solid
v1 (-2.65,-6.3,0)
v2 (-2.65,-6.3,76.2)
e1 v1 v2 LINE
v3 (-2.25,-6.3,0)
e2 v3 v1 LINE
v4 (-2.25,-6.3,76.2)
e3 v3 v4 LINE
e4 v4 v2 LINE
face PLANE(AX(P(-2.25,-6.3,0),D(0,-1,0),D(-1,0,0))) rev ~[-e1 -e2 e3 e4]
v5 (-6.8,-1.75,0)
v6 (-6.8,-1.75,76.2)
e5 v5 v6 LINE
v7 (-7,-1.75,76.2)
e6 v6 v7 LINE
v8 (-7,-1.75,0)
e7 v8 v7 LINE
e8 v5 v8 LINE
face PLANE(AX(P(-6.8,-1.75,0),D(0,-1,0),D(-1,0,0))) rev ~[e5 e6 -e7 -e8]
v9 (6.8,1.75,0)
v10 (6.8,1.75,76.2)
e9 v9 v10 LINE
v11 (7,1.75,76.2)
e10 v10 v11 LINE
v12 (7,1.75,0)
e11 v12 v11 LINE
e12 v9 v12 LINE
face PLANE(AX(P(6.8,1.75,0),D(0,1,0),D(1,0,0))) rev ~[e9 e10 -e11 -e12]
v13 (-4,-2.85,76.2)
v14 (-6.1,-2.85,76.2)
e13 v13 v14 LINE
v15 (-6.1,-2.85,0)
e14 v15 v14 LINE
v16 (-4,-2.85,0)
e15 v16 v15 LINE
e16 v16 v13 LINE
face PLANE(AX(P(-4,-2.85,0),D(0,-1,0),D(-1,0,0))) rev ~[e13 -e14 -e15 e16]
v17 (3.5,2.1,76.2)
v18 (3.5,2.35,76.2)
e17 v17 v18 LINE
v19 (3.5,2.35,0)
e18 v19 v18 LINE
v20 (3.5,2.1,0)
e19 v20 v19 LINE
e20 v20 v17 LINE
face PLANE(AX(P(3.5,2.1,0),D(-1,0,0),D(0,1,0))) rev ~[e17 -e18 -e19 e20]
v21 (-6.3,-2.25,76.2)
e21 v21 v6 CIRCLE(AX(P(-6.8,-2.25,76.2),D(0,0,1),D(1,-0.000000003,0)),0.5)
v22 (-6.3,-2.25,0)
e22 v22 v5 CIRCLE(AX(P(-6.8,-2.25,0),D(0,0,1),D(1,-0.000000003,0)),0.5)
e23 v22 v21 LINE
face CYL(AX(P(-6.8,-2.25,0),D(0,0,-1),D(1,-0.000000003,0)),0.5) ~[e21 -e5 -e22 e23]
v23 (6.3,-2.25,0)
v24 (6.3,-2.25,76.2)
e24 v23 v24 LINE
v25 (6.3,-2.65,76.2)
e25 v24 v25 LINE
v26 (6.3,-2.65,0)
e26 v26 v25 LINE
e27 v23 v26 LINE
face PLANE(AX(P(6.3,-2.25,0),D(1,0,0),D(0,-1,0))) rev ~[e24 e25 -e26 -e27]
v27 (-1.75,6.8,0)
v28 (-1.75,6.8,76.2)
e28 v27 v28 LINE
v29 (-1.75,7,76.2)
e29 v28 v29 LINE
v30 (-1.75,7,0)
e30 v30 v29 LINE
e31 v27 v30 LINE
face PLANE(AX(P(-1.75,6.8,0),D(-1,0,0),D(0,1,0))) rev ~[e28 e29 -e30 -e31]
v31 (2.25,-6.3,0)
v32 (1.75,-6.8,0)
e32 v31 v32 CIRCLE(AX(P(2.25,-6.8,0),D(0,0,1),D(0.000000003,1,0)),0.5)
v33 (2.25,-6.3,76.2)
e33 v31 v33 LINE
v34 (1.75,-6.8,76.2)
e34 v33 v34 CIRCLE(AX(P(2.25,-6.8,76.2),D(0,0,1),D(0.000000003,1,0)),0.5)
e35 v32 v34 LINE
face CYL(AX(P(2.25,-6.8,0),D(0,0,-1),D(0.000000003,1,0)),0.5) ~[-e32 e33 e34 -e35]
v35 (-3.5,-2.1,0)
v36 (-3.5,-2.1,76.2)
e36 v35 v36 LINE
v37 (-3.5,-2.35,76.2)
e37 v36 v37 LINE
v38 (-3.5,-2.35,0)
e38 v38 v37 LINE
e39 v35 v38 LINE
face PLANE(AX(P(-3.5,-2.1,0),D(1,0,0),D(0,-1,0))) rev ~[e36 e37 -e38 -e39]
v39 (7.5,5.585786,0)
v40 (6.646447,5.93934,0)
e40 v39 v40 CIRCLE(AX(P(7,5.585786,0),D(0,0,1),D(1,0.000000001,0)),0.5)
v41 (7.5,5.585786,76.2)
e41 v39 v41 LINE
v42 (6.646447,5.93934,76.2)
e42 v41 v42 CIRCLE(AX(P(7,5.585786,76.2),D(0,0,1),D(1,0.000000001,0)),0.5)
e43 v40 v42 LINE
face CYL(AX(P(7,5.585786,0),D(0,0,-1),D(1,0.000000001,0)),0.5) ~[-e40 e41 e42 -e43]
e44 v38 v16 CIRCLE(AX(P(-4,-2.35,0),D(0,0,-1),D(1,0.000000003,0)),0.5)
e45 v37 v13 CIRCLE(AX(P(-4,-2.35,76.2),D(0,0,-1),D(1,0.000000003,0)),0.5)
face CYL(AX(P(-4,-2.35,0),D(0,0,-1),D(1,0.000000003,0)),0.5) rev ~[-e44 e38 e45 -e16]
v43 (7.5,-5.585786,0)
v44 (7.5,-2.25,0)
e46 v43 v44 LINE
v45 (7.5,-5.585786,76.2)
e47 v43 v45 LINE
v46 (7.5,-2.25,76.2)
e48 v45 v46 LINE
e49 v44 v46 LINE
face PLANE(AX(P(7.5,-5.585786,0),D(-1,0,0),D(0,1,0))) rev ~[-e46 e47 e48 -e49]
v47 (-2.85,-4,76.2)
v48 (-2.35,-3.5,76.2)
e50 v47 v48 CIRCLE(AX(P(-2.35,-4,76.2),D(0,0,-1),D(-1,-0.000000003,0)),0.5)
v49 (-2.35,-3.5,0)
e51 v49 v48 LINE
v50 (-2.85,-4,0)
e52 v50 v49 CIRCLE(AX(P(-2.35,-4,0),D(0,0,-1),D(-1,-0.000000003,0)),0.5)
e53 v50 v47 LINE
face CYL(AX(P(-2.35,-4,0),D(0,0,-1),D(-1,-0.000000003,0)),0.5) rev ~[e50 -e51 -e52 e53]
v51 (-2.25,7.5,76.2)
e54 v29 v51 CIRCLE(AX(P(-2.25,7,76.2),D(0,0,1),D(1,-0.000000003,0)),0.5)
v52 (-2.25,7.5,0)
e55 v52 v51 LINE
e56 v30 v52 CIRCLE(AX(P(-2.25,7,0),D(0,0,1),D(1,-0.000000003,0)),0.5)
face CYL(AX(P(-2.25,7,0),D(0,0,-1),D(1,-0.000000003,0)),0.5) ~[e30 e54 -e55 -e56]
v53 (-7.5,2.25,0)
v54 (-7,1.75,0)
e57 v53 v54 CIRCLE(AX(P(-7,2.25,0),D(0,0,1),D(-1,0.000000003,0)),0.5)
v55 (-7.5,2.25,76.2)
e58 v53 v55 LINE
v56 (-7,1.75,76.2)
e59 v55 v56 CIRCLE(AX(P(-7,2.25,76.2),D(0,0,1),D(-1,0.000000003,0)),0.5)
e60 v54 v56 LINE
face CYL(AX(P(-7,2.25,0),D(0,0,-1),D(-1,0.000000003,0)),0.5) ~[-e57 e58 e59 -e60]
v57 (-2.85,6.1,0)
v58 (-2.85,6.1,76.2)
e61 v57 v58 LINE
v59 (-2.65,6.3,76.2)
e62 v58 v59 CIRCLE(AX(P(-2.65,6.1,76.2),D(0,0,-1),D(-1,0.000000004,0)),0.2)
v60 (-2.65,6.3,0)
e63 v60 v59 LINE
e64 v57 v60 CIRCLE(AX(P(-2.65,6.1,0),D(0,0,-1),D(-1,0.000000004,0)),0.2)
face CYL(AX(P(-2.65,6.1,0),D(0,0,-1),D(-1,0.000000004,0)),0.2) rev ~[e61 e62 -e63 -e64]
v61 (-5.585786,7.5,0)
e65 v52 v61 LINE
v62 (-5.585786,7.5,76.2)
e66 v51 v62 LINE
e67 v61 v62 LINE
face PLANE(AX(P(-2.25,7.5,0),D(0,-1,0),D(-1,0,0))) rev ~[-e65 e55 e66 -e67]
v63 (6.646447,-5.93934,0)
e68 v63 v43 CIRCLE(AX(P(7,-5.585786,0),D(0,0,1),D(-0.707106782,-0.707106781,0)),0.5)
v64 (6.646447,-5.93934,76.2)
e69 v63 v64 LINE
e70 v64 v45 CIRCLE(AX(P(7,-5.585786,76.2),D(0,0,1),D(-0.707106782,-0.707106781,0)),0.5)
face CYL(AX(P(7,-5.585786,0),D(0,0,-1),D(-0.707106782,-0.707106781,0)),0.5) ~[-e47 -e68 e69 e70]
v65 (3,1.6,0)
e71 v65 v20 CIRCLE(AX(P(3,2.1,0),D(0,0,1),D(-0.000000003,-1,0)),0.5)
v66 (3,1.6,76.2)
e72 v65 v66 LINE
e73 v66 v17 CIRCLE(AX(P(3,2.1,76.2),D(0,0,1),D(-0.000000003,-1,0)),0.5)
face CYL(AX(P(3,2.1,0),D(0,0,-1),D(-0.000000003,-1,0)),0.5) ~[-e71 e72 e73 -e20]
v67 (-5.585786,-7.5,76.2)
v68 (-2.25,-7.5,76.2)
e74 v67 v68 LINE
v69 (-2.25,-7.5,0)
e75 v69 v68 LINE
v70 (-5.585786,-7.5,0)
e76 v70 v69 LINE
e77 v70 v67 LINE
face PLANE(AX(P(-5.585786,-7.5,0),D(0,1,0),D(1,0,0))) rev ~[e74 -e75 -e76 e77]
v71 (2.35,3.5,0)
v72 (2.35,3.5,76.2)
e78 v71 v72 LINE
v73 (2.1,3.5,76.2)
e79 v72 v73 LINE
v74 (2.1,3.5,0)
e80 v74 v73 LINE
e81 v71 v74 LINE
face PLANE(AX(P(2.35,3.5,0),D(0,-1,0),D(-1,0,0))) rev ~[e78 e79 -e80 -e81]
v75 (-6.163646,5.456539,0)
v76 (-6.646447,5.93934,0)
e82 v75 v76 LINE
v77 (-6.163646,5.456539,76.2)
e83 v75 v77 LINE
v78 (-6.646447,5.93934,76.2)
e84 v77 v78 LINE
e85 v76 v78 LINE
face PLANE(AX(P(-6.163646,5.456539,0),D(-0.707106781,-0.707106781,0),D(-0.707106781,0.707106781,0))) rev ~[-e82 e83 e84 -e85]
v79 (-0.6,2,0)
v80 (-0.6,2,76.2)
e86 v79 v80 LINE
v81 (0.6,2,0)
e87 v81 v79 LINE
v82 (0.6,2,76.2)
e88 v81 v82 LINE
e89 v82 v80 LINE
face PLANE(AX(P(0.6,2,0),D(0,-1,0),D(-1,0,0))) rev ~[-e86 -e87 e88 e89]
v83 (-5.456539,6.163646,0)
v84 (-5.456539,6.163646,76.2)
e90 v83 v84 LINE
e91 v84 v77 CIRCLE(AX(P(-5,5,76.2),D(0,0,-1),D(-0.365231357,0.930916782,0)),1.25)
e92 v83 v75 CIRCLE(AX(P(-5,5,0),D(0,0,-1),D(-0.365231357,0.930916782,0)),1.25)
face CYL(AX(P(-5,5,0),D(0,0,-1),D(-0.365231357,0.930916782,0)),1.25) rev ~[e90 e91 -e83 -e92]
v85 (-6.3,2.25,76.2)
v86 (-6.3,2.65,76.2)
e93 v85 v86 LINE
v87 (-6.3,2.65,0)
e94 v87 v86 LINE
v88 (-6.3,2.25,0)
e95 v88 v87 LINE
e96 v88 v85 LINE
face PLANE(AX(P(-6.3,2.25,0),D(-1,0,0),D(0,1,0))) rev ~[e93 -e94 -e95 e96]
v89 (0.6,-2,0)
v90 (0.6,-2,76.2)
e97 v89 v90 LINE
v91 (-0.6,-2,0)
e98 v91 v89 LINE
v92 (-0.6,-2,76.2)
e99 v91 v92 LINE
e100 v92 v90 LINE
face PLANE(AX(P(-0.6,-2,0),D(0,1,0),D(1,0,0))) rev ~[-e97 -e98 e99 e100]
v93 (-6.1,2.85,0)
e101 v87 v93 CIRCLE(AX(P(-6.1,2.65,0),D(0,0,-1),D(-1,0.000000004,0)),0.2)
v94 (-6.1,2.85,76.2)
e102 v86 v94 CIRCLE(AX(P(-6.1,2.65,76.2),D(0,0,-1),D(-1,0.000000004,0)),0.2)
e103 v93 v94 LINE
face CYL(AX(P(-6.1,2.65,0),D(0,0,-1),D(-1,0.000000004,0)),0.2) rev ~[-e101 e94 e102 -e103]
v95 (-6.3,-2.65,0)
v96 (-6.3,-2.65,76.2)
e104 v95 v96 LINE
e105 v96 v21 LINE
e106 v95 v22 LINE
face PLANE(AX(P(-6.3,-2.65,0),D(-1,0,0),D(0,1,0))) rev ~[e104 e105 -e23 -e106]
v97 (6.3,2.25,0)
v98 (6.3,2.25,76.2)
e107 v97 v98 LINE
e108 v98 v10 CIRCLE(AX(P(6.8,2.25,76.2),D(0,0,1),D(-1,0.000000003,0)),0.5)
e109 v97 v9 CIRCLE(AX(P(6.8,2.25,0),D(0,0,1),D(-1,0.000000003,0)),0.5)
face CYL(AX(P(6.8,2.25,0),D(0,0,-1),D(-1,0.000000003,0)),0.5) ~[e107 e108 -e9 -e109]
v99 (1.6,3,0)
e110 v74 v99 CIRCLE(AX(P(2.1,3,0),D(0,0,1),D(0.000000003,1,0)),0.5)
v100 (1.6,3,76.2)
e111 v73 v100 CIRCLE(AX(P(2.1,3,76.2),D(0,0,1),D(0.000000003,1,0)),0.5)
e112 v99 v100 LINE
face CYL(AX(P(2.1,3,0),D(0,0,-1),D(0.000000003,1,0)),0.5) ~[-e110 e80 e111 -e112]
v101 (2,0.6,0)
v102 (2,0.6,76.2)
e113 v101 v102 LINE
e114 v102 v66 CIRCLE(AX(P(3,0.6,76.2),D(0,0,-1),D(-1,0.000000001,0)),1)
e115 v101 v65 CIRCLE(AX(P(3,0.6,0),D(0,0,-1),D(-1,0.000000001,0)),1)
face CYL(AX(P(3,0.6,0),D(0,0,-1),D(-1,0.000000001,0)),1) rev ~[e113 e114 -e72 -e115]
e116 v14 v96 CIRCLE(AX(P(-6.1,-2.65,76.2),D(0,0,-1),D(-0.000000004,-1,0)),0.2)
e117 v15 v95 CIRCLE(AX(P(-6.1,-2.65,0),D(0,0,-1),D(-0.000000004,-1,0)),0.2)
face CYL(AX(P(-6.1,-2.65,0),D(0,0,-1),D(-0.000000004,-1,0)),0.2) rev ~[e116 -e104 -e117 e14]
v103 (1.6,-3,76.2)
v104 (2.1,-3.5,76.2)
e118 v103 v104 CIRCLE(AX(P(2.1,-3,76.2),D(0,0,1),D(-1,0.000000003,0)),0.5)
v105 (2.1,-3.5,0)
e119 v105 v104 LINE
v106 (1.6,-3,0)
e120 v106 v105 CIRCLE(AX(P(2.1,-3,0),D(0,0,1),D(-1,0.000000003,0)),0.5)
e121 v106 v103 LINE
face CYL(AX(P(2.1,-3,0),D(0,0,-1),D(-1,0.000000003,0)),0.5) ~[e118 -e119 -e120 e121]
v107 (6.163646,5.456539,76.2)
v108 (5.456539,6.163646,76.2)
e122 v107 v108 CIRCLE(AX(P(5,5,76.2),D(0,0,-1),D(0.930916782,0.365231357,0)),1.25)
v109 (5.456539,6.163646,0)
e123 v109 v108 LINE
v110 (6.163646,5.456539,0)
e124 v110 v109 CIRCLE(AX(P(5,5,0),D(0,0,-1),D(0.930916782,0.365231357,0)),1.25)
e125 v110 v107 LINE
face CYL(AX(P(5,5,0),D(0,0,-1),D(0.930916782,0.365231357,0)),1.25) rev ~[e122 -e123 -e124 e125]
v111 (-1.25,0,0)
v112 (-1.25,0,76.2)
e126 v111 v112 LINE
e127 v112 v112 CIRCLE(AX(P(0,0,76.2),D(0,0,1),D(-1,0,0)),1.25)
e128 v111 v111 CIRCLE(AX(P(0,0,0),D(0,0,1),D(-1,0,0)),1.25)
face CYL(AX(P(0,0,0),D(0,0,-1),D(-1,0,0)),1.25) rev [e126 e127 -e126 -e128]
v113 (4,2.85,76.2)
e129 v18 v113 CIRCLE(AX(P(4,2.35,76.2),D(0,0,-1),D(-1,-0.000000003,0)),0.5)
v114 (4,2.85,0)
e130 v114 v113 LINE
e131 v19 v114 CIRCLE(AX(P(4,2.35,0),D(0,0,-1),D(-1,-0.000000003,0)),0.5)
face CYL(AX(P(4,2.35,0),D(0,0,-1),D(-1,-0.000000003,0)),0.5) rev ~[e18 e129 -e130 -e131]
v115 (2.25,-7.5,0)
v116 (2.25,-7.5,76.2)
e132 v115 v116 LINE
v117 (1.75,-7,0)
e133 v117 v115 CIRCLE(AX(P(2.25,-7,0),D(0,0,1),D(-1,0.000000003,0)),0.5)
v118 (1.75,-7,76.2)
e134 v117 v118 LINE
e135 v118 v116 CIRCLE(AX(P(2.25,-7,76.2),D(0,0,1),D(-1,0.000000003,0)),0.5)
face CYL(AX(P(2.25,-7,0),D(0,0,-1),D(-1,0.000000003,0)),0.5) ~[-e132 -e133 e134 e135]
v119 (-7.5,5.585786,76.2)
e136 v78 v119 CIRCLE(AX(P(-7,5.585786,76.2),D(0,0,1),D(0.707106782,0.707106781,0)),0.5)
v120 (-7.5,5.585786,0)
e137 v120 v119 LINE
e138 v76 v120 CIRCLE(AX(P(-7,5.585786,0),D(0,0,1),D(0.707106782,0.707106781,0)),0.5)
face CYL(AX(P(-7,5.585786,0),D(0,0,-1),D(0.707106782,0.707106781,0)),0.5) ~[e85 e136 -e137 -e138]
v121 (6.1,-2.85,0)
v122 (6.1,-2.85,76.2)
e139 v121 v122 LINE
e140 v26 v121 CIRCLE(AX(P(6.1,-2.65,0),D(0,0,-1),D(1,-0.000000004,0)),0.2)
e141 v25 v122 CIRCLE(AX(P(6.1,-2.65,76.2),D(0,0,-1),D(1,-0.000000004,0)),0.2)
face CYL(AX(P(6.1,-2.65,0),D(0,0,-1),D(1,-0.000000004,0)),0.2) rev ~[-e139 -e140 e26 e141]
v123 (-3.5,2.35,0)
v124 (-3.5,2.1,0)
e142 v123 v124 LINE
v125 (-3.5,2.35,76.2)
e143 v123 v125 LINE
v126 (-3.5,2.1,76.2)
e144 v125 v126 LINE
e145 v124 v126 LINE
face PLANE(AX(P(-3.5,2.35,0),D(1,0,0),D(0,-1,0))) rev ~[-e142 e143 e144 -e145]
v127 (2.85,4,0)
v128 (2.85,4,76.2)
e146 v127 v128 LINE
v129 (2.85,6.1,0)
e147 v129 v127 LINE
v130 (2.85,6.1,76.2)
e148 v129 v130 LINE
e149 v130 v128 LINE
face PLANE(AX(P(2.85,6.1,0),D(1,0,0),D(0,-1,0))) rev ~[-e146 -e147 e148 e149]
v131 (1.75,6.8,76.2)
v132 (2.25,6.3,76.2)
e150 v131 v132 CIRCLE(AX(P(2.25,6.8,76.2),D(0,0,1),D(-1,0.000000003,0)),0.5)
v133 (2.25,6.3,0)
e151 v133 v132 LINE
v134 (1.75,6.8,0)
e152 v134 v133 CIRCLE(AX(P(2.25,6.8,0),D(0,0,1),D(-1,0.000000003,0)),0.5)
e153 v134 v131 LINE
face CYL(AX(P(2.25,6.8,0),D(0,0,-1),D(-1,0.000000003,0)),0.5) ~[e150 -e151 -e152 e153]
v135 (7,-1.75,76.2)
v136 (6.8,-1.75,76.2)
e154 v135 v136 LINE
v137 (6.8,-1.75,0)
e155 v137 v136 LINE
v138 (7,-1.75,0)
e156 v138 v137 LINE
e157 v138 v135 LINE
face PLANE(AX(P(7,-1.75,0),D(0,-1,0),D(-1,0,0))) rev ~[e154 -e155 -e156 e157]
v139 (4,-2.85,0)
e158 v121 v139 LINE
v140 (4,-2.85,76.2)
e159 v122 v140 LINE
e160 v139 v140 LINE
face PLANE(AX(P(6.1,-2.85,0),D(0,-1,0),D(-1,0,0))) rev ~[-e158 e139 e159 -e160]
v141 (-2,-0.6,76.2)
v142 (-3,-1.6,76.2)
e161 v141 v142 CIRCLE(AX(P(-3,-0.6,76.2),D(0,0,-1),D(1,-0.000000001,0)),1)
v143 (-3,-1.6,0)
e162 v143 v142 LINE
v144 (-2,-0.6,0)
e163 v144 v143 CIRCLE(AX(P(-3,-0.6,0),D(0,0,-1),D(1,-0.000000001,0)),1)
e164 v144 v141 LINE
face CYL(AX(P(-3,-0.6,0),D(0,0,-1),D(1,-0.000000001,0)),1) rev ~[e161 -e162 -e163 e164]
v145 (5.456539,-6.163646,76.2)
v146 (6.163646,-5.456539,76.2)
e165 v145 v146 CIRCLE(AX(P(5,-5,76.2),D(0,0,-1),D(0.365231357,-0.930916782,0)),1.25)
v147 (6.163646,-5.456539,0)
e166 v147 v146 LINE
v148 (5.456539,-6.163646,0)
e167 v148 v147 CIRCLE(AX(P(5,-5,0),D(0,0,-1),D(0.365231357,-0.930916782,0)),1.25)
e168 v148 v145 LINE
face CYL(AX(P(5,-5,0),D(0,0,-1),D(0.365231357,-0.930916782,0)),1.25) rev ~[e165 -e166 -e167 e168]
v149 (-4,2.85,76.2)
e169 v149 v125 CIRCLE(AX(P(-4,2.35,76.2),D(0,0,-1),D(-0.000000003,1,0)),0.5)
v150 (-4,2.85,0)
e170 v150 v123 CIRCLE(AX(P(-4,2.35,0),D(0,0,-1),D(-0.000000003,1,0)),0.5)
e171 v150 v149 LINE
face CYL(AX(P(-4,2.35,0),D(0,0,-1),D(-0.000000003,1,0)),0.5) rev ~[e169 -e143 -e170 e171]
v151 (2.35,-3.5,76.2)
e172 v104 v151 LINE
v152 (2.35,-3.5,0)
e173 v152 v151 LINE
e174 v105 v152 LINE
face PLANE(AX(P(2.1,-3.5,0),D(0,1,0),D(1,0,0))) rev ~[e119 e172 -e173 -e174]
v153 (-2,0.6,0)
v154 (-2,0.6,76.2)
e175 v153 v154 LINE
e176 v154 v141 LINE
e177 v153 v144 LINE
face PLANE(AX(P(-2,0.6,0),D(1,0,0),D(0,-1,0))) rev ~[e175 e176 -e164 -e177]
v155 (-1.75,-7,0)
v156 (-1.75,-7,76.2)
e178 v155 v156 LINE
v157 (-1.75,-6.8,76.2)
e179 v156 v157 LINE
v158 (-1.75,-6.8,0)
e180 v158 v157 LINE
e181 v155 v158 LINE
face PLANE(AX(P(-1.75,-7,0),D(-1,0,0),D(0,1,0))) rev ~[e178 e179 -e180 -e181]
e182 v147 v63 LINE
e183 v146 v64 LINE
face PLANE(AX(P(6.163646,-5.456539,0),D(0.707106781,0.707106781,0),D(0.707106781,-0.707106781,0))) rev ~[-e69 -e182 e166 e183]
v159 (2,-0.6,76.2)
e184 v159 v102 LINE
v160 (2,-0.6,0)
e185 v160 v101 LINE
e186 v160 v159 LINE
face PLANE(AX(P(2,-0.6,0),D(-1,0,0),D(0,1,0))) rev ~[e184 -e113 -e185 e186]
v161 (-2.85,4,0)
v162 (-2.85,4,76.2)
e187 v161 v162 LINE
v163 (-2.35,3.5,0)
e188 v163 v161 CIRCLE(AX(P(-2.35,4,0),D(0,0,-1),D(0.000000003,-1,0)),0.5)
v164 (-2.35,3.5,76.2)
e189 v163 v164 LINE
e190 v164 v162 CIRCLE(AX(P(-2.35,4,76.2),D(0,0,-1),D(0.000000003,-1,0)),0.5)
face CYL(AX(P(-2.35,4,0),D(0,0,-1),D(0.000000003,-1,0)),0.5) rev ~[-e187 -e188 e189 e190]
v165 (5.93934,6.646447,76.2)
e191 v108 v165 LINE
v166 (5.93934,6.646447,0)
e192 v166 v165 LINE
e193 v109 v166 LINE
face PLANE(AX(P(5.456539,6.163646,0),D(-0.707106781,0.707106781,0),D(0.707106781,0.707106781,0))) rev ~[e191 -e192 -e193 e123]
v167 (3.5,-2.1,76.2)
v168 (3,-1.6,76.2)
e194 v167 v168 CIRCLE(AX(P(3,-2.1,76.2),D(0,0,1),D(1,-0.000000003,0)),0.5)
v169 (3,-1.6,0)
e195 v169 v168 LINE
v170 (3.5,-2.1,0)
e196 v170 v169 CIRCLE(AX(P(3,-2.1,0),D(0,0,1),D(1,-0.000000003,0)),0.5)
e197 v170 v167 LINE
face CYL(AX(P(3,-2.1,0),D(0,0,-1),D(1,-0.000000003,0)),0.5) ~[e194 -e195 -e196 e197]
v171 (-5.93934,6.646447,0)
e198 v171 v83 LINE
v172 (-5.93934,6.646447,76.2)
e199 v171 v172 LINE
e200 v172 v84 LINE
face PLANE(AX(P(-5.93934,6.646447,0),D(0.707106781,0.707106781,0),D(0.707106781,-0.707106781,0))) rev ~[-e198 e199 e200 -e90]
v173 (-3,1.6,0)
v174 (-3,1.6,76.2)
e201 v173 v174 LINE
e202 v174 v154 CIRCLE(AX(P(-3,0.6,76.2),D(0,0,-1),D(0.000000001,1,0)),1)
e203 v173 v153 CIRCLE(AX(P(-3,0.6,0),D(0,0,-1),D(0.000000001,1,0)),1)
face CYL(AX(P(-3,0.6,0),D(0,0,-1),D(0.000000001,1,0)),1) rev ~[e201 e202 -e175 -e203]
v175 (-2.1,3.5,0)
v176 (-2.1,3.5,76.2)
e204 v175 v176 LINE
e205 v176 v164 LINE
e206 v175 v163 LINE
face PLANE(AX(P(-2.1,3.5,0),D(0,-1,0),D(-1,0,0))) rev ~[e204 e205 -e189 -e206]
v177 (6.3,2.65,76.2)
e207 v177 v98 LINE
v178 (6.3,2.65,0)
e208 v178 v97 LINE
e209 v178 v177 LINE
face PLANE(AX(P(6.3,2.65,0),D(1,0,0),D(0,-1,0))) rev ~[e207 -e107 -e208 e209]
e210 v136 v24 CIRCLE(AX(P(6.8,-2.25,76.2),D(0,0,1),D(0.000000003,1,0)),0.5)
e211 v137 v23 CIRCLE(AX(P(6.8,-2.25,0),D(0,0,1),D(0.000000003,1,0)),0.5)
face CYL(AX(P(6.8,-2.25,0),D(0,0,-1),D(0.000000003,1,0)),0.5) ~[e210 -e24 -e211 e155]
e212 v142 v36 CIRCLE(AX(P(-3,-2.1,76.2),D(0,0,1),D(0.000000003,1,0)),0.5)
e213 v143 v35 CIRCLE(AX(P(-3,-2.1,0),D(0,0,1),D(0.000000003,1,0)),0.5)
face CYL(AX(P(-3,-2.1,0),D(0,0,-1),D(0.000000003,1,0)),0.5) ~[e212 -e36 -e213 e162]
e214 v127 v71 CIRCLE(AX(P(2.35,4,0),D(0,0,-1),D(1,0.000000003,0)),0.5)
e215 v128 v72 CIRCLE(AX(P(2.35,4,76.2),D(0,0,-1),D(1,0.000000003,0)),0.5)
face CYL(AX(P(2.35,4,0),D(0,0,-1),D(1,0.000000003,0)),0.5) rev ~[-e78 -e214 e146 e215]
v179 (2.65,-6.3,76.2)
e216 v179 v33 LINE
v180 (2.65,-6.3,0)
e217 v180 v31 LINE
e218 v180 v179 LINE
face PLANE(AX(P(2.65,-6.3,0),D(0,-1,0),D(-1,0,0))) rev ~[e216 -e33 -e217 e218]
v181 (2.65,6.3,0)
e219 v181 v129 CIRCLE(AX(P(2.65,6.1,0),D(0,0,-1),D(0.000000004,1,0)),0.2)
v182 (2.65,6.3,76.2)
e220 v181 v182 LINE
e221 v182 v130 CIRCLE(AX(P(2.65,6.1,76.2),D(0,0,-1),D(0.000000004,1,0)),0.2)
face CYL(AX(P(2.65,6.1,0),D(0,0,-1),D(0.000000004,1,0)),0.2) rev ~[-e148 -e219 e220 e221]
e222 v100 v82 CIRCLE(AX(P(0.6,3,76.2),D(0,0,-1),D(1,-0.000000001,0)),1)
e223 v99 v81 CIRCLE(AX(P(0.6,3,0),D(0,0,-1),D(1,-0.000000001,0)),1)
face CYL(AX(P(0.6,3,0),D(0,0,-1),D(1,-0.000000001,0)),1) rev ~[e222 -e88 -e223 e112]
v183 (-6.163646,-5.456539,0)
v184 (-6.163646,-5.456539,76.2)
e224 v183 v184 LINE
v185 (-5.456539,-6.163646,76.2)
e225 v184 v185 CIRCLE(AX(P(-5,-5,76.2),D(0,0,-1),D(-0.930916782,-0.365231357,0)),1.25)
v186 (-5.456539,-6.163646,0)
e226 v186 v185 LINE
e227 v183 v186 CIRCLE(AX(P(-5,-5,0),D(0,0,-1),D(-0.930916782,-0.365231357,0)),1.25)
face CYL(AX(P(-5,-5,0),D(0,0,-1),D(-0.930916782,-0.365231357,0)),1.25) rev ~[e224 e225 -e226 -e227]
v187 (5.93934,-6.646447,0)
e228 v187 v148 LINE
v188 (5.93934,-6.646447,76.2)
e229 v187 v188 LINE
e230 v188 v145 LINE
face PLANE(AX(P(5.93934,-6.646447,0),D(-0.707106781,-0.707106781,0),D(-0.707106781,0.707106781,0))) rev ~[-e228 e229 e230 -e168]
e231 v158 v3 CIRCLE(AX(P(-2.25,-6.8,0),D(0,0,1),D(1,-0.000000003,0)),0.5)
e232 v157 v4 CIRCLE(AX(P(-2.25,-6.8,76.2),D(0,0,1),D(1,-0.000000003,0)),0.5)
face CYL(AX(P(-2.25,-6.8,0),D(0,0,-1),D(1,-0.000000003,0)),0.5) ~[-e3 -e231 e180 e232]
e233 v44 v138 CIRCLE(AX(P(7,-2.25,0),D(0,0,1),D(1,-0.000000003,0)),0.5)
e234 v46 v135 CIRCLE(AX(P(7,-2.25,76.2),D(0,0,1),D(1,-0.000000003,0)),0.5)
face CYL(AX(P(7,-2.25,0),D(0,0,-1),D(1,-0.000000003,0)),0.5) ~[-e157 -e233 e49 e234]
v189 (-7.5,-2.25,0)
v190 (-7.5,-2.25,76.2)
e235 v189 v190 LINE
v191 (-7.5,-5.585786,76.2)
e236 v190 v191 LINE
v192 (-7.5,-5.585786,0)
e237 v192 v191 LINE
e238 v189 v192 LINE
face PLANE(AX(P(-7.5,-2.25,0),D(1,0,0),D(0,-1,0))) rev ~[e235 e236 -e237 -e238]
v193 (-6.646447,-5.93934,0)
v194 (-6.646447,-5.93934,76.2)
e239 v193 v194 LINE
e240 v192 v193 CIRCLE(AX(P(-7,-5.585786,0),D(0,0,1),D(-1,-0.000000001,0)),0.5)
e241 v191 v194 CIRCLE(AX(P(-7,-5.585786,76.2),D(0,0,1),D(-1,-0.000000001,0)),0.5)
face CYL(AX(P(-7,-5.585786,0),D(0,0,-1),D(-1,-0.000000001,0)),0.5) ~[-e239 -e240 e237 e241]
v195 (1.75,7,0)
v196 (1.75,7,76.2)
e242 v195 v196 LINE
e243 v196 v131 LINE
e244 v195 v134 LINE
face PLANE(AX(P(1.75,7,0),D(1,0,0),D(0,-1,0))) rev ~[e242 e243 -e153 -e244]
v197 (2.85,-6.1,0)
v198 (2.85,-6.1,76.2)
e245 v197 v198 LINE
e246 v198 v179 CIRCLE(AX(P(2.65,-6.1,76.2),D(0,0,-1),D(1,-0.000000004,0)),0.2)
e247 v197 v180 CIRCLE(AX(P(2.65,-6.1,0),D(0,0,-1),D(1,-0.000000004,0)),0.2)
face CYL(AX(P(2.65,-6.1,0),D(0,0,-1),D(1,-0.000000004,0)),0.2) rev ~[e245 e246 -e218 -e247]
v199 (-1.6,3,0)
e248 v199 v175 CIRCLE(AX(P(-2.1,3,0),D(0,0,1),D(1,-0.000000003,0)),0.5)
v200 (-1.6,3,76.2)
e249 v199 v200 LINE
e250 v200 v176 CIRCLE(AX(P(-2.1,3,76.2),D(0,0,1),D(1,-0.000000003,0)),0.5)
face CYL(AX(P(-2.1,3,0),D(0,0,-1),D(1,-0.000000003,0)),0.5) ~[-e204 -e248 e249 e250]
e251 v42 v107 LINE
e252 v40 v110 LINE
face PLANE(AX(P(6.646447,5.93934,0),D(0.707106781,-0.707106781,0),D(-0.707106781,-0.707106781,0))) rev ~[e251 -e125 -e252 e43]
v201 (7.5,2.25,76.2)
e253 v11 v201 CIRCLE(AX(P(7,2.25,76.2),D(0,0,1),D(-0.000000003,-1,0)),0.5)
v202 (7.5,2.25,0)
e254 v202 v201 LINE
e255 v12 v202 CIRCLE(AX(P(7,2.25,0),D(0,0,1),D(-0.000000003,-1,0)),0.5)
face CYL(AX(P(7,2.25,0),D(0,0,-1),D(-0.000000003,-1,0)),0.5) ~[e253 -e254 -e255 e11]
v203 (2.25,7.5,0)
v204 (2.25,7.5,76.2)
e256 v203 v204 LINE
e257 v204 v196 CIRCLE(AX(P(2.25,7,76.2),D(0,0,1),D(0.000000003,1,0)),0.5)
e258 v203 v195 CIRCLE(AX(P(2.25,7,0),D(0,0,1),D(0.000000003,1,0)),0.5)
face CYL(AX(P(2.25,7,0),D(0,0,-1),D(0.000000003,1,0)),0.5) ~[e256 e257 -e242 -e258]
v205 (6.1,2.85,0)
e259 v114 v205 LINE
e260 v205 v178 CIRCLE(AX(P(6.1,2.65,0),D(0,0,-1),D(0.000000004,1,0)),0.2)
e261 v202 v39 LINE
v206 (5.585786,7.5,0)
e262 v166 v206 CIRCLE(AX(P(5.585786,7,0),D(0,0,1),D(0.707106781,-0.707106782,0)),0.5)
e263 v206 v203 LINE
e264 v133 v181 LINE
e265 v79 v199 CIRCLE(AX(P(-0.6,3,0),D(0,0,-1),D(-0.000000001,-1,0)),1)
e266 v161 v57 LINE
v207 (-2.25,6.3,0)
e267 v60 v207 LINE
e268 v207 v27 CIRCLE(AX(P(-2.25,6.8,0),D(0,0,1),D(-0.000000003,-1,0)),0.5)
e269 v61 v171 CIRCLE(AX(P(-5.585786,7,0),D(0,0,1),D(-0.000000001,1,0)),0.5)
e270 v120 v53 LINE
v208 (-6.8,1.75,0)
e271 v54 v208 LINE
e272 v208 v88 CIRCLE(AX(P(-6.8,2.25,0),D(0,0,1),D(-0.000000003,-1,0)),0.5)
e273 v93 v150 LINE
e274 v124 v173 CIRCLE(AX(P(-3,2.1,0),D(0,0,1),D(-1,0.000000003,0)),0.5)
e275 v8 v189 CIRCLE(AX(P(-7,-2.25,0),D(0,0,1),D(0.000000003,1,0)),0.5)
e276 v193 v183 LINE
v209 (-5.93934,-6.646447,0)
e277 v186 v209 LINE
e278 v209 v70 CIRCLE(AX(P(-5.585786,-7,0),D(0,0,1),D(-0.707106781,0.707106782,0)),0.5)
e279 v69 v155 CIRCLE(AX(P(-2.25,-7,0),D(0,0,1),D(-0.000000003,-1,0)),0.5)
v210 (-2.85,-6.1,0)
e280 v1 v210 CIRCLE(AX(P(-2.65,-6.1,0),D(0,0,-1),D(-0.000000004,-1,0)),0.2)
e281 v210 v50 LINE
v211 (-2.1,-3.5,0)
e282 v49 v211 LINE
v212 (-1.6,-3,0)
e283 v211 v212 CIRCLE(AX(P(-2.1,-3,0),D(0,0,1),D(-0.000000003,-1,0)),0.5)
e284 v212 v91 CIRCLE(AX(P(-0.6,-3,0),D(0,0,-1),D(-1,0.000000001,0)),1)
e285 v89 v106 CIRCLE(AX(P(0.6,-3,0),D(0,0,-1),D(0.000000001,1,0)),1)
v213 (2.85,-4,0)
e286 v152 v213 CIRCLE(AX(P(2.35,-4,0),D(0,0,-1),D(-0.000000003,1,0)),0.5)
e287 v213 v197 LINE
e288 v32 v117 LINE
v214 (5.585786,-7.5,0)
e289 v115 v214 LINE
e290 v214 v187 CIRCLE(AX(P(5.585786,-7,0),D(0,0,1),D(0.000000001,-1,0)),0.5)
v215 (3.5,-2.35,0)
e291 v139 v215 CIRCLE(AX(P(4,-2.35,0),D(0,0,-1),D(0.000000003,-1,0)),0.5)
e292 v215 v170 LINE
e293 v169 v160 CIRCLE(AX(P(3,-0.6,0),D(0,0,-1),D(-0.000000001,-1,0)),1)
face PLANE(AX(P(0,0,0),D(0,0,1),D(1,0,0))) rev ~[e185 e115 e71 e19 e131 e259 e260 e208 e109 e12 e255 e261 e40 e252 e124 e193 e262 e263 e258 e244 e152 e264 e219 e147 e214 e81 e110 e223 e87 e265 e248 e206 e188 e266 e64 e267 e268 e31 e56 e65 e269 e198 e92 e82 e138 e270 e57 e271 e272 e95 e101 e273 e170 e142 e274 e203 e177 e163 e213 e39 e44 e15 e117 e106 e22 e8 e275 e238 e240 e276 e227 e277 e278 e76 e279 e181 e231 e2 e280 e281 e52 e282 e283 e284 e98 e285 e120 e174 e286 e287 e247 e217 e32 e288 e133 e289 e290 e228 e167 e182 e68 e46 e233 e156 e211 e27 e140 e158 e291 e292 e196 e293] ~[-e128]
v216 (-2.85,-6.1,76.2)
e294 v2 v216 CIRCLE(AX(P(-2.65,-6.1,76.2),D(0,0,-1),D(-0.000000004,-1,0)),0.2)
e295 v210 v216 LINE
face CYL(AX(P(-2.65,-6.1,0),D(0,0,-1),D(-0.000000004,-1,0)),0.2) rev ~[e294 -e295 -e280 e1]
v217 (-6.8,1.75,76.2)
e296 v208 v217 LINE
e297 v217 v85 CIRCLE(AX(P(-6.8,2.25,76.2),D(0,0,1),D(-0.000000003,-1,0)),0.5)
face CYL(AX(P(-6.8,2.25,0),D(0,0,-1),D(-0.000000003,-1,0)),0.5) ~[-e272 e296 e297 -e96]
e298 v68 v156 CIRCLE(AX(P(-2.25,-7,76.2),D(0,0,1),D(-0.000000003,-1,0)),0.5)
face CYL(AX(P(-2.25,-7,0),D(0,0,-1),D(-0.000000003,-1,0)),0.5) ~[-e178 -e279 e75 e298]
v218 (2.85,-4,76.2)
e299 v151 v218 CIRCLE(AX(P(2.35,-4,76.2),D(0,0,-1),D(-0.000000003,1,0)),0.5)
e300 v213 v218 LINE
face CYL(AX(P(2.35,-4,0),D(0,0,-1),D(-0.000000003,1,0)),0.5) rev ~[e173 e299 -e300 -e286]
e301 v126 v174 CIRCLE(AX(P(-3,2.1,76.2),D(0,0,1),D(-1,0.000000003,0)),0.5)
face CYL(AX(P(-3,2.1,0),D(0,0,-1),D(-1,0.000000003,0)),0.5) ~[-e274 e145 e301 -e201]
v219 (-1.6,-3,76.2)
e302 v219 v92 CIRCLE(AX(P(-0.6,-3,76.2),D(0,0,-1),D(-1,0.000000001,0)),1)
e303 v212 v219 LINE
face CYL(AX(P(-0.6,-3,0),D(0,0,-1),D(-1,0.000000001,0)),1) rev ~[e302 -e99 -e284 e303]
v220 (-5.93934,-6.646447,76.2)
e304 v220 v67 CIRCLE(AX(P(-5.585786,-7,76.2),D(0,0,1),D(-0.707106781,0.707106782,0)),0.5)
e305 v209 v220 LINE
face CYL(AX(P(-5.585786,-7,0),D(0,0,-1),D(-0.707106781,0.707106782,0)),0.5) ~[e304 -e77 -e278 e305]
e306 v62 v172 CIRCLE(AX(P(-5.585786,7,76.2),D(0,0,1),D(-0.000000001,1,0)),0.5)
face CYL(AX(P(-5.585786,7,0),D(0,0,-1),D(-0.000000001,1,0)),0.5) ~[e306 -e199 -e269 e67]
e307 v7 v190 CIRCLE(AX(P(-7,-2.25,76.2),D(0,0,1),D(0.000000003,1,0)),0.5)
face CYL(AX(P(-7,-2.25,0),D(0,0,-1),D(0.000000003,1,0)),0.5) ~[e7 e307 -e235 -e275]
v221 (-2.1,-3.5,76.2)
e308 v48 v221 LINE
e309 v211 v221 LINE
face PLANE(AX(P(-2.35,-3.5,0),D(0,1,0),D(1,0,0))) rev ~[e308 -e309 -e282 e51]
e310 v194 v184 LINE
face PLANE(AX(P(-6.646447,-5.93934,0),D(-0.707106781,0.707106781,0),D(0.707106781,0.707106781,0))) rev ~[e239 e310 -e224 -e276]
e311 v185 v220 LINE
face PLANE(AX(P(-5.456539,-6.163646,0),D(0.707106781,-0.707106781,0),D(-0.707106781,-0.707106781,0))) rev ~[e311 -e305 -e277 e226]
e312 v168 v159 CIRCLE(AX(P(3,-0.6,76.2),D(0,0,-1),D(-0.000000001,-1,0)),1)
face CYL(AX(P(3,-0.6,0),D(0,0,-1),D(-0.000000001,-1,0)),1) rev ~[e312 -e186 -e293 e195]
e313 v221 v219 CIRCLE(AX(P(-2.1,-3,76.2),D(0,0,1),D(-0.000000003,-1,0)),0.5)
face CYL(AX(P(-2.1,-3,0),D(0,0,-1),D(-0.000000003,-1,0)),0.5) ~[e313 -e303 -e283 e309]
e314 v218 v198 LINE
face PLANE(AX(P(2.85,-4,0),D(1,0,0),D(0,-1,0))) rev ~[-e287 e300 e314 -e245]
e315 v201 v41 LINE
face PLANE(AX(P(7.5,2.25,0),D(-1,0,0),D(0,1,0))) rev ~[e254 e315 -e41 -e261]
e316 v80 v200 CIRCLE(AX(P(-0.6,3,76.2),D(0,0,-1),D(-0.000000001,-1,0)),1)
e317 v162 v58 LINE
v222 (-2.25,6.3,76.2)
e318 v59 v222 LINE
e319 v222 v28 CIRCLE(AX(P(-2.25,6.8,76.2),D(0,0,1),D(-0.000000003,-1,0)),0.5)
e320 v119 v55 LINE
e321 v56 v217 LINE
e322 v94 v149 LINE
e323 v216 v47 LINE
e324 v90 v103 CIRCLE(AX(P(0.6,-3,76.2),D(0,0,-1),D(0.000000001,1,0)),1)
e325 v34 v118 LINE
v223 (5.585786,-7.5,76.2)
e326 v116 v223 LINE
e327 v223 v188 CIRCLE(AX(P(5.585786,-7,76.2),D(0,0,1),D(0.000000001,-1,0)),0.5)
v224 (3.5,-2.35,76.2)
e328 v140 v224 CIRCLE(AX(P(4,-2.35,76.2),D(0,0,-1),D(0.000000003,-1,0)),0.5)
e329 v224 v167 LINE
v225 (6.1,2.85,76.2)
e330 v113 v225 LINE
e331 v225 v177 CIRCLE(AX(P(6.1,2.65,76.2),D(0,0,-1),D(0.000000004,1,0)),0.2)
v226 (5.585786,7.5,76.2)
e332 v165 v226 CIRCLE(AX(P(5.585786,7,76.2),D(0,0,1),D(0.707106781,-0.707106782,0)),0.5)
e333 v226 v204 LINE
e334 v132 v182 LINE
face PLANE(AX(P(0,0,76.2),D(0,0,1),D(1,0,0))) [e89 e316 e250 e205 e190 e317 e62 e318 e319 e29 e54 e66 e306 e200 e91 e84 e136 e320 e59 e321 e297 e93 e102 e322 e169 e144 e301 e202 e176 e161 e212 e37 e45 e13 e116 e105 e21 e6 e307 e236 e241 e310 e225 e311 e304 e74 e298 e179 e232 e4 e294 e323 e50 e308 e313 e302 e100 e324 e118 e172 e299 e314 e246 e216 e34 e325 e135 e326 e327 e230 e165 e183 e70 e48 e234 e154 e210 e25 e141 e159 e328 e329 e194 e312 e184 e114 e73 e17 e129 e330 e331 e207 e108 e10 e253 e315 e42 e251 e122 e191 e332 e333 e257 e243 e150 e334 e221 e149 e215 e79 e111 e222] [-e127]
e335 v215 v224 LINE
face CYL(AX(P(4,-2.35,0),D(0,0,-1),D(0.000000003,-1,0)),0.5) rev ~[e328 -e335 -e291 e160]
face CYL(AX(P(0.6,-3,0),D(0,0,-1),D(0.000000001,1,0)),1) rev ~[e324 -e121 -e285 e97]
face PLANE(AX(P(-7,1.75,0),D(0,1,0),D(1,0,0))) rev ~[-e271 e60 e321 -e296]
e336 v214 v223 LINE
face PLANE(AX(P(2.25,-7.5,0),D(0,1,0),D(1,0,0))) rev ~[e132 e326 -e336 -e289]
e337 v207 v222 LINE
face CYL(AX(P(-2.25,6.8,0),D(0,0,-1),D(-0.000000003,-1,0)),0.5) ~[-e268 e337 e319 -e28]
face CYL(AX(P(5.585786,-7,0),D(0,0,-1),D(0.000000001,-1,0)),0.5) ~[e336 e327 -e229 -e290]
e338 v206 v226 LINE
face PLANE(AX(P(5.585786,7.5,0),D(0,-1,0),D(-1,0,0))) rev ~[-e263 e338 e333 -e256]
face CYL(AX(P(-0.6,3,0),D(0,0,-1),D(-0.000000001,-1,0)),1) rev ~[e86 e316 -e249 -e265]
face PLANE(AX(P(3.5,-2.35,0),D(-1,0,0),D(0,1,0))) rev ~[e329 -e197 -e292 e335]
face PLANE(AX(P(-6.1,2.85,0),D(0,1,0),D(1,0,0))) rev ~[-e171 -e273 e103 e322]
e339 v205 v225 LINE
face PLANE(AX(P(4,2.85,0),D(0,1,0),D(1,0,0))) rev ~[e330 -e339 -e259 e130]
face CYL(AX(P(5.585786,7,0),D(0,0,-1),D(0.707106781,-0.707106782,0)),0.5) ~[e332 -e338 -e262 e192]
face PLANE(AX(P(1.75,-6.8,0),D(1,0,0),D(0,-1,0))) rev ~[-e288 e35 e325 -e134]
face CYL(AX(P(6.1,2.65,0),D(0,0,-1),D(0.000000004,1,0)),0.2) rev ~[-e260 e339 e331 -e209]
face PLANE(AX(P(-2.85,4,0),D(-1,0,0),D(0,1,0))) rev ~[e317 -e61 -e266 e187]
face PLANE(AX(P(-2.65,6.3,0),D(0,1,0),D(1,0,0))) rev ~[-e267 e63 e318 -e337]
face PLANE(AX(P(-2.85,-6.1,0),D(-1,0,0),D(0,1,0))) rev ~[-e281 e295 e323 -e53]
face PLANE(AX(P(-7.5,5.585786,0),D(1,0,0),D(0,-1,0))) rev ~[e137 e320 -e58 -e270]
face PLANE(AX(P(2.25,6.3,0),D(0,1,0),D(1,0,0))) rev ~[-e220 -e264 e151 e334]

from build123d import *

# Parameters (mm, degrees)
SKETCH1_R           = 1.25
BOSS_EXTRUDE1_DEPTH = 76.2


with BuildPart() as part:
    # Sketch1 → Boss-Extrude1 (new body)
    with BuildSketch(Plane.XY):
        with BuildLine():
            Line((6.646446609, 5.939339828), (6.163645978, 5.456539197))
            ThreePointArc((6.163645978, 5.456539197), (4.116116524, 4.116116524), (5.456539197, 6.163645978))
            Line((5.456539197, 6.163645978), (5.939339828, 6.646446609))
            ThreePointArc((5.939339828, 6.646446609), (6.047726204, 7.191341716), (5.585786438, 7.5))
            Line((5.585786438, 7.5), (2.25, 7.5))
            ThreePointArc((2.25, 7.5), (1.896446609, 7.353553391), (1.75, 7))
            Line((1.75, 7), (1.75, 6.8))
            ThreePointArc((1.75, 6.8), (1.896446609, 6.446446609), (2.25, 6.3))
            Line((2.25, 6.3), (2.65, 6.3))
            ThreePointArc((2.65, 6.3), (2.791421356, 6.241421356), (2.85, 6.1))
            Line((2.85, 6.1), (2.85, 4))
            ThreePointArc((2.85, 4), (2.703553391, 3.646446609), (2.35, 3.5))
            Line((2.35, 3.5), (2.1, 3.5))
            ThreePointArc((2.1, 3.5), (1.746446609, 3.353553391), (1.6, 3))
            ThreePointArc((1.6, 3), (1.307106781, 2.292893219), (0.6, 2))
            Line((0.6, 2), (-0.6, 2))
            ThreePointArc((-0.6, 2), (-1.307106781, 2.292893219), (-1.6, 3))
            ThreePointArc((-1.6, 3), (-1.746446609, 3.353553391), (-2.1, 3.5))
            Line((-2.1, 3.5), (-2.35, 3.5))
            ThreePointArc((-2.35, 3.5), (-2.703553391, 3.646446609), (-2.85, 4))
            Line((-2.85, 4), (-2.85, 6.1))
            ThreePointArc((-2.85, 6.1), (-2.791421356, 6.241421356), (-2.65, 6.3))
            Line((-2.65, 6.3), (-2.25, 6.3))
            ThreePointArc((-2.25, 6.3), (-1.896446609, 6.446446609), (-1.75, 6.8))
            Line((-1.75, 6.8), (-1.75, 7))
            ThreePointArc((-1.75, 7), (-1.896446609, 7.353553391), (-2.25, 7.5))
            Line((-2.25, 7.5), (-5.585786438, 7.5))
            ThreePointArc((-5.585786438, 7.5), (-6.047726204, 7.191341716), (-5.939339828, 6.646446609))
            Line((-5.939339828, 6.646446609), (-5.456539197, 6.163645978))
            ThreePointArc((-5.456539197, 6.163645978), (-4.116116524, 4.116116524), (-6.163645978, 5.456539197))
            Line((-6.163645978, 5.456539197), (-6.646446609, 5.939339828))
            ThreePointArc((-6.646446609, 5.939339828), (-7.191341716, 6.047726204), (-7.5, 5.585786438))
            Line((-7.5, 5.585786438), (-7.5, 2.25))
            ThreePointArc((-7.5, 2.25), (-7.353553391, 1.896446609), (-7, 1.75))
            Line((-7, 1.75), (-6.8, 1.75))
            ThreePointArc((-6.8, 1.75), (-6.446446609, 1.896446609), (-6.3, 2.25))
            Line((-6.3, 2.25), (-6.3, 2.65))
            ThreePointArc((-6.3, 2.65), (-6.241421356, 2.791421356), (-6.1, 2.85))
            Line((-6.1, 2.85), (-4, 2.85))
            ThreePointArc((-4, 2.85), (-3.646446609, 2.703553391), (-3.5, 2.35))
            Line((-3.5, 2.35), (-3.5, 2.1))
            ThreePointArc((-3.5, 2.1), (-3.353553391, 1.746446609), (-3, 1.6))
            ThreePointArc((-3, 1.6), (-2.292893219, 1.307106781), (-2, 0.6))
            Line((-2, 0.6), (-2, -0.6))
            ThreePointArc((-2, -0.6), (-2.292893219, -1.307106781), (-3, -1.6))
            ThreePointArc((-3, -1.6), (-3.353553391, -1.746446609), (-3.5, -2.1))
            Line((-3.5, -2.1), (-3.5, -2.35))
            ThreePointArc((-3.5, -2.35), (-3.646446609, -2.703553391), (-4, -2.85))
            Line((-4, -2.85), (-6.1, -2.85))
            ThreePointArc((-6.1, -2.85), (-6.241421356, -2.791421356), (-6.3, -2.65))
            Line((-6.3, -2.65), (-6.3, -2.25))
            ThreePointArc((-6.3, -2.25), (-6.446446609, -1.896446609), (-6.8, -1.75))
            Line((-6.8, -1.75), (-7, -1.75))
            ThreePointArc((-7, -1.75), (-7.353553391, -1.896446609), (-7.5, -2.25))
            Line((-7.5, -2.25), (-7.5, -5.585786438))
            ThreePointArc((-7.5, -5.585786438), (-7.191341716, -6.047726204), (-6.646446609, -5.939339828))
            Line((-6.646446609, -5.939339828), (-6.163645978, -5.456539197))
            ThreePointArc((-6.163645978, -5.456539197), (-4.116116524, -4.116116524), (-5.456539197, -6.163645978))
            Line((-5.456539197, -6.163645978), (-5.939339828, -6.646446609))
            ThreePointArc((-5.939339828, -6.646446609), (-6.047726204, -7.191341716), (-5.585786438, -7.5))
            Line((-5.585786438, -7.5), (-2.25, -7.5))
            ThreePointArc((-2.25, -7.5), (-1.896446609, -7.353553391), (-1.75, -7))
            Line((-1.75, -7), (-1.75, -6.8))
            ThreePointArc((-1.75, -6.8), (-1.896446609, -6.446446609), (-2.25, -6.3))
            Line((-2.25, -6.3), (-2.65, -6.3))
            ThreePointArc((-2.65, -6.3), (-2.791421356, -6.241421356), (-2.85, -6.1))
            Line((-2.85, -6.1), (-2.85, -4))
            ThreePointArc((-2.85, -4), (-2.703553391, -3.646446609), (-2.35, -3.5))
            Line((-2.35, -3.5), (-2.1, -3.5))
            ThreePointArc((-2.1, -3.5), (-1.746446609, -3.353553391), (-1.6, -3))
            ThreePointArc((-1.6, -3), (-1.307106781, -2.292893219), (-0.6, -2))
            Line((-0.6, -2), (0.6, -2))
            ThreePointArc((0.6, -2), (1.307106781, -2.292893219), (1.6, -3))
            ThreePointArc((1.6, -3), (1.746446609, -3.353553391), (2.1, -3.5))
            Line((2.1, -3.5), (2.35, -3.5))
            ThreePointArc((2.35, -3.5), (2.703553391, -3.646446609), (2.85, -4))
            Line((2.85, -4), (2.85, -6.1))
            ThreePointArc((2.85, -6.1), (2.791421356, -6.241421356), (2.65, -6.3))
            Line((2.65, -6.3), (2.25, -6.3))
            ThreePointArc((2.25, -6.3), (1.896446609, -6.446446609), (1.75, -6.8))
            Line((1.75, -6.8), (1.75, -7))
            ThreePointArc((1.75, -7), (1.896446609, -7.353553391), (2.25, -7.5))
            Line((2.25, -7.5), (5.585786438, -7.5))
            ThreePointArc((5.585786438, -7.5), (6.047726204, -7.191341716), (5.939339828, -6.646446609))
            Line((5.939339828, -6.646446609), (5.456539197, -6.163645978))
            ThreePointArc((5.456539197, -6.163645978), (4.116116524, -4.116116524), (6.163645978, -5.456539197))
            Line((6.163645978, -5.456539197), (6.646446609, -5.939339828))
            ThreePointArc((6.646446609, -5.939339828), (7.191341716, -6.047726204), (7.5, -5.585786438))
            Line((7.5, -5.585786438), (7.5, -2.25))
            ThreePointArc((7.5, -2.25), (7.353553391, -1.896446609), (7, -1.75))
            Line((7, -1.75), (6.8, -1.75))
            ThreePointArc((6.8, -1.75), (6.446446609, -1.896446609), (6.3, -2.25))
            Line((6.3, -2.25), (6.3, -2.65))
            ThreePointArc((6.3, -2.65), (6.241421356, -2.791421356), (6.1, -2.85))
            Line((6.1, -2.85), (4, -2.85))
            ThreePointArc((4, -2.85), (3.646446609, -2.703553391), (3.5, -2.35))
            Line((3.5, -2.35), (3.5, -2.1))
            ThreePointArc((3.5, -2.1), (3.353553391, -1.746446609), (3, -1.6))
            ThreePointArc((3, -1.6), (2.292893219, -1.307106781), (2, -0.6))
            Line((2, -0.6), (2, 0.6))
            ThreePointArc((2, 0.6), (2.292893219, 1.307106781), (3, 1.6))
            ThreePointArc((3, 1.6), (3.353553391, 1.746446609), (3.5, 2.1))
            Line((3.5, 2.1), (3.5, 2.35))
            ThreePointArc((3.5, 2.35), (3.646446609, 2.703553391), (4, 2.85))
            Line((4, 2.85), (6.1, 2.85))
            ThreePointArc((6.1, 2.85), (6.241421356, 2.791421356), (6.3, 2.65))
            Line((6.3, 2.65), (6.3, 2.25))
            ThreePointArc((6.3, 2.25), (6.446446609, 1.896446609), (6.8, 1.75))
            Line((6.8, 1.75), (7, 1.75))
            ThreePointArc((7, 1.75), (7.353553391, 1.896446609), (7.5, 2.25))
            Line((7.5, 2.25), (7.5, 5.585786438))
            ThreePointArc((7.5, 5.585786438), (7.191341716, 6.047726204), (6.646446609, 5.939339828))
        make_face()
        with Locations(Location((0, 0, 0), (0, 0, 180))):
            Circle(SKETCH1_R, mode=Mode.SUBTRACT)
    extrude(amount=BOSS_EXTRUDE1_DEPTH)


solid = part.part
